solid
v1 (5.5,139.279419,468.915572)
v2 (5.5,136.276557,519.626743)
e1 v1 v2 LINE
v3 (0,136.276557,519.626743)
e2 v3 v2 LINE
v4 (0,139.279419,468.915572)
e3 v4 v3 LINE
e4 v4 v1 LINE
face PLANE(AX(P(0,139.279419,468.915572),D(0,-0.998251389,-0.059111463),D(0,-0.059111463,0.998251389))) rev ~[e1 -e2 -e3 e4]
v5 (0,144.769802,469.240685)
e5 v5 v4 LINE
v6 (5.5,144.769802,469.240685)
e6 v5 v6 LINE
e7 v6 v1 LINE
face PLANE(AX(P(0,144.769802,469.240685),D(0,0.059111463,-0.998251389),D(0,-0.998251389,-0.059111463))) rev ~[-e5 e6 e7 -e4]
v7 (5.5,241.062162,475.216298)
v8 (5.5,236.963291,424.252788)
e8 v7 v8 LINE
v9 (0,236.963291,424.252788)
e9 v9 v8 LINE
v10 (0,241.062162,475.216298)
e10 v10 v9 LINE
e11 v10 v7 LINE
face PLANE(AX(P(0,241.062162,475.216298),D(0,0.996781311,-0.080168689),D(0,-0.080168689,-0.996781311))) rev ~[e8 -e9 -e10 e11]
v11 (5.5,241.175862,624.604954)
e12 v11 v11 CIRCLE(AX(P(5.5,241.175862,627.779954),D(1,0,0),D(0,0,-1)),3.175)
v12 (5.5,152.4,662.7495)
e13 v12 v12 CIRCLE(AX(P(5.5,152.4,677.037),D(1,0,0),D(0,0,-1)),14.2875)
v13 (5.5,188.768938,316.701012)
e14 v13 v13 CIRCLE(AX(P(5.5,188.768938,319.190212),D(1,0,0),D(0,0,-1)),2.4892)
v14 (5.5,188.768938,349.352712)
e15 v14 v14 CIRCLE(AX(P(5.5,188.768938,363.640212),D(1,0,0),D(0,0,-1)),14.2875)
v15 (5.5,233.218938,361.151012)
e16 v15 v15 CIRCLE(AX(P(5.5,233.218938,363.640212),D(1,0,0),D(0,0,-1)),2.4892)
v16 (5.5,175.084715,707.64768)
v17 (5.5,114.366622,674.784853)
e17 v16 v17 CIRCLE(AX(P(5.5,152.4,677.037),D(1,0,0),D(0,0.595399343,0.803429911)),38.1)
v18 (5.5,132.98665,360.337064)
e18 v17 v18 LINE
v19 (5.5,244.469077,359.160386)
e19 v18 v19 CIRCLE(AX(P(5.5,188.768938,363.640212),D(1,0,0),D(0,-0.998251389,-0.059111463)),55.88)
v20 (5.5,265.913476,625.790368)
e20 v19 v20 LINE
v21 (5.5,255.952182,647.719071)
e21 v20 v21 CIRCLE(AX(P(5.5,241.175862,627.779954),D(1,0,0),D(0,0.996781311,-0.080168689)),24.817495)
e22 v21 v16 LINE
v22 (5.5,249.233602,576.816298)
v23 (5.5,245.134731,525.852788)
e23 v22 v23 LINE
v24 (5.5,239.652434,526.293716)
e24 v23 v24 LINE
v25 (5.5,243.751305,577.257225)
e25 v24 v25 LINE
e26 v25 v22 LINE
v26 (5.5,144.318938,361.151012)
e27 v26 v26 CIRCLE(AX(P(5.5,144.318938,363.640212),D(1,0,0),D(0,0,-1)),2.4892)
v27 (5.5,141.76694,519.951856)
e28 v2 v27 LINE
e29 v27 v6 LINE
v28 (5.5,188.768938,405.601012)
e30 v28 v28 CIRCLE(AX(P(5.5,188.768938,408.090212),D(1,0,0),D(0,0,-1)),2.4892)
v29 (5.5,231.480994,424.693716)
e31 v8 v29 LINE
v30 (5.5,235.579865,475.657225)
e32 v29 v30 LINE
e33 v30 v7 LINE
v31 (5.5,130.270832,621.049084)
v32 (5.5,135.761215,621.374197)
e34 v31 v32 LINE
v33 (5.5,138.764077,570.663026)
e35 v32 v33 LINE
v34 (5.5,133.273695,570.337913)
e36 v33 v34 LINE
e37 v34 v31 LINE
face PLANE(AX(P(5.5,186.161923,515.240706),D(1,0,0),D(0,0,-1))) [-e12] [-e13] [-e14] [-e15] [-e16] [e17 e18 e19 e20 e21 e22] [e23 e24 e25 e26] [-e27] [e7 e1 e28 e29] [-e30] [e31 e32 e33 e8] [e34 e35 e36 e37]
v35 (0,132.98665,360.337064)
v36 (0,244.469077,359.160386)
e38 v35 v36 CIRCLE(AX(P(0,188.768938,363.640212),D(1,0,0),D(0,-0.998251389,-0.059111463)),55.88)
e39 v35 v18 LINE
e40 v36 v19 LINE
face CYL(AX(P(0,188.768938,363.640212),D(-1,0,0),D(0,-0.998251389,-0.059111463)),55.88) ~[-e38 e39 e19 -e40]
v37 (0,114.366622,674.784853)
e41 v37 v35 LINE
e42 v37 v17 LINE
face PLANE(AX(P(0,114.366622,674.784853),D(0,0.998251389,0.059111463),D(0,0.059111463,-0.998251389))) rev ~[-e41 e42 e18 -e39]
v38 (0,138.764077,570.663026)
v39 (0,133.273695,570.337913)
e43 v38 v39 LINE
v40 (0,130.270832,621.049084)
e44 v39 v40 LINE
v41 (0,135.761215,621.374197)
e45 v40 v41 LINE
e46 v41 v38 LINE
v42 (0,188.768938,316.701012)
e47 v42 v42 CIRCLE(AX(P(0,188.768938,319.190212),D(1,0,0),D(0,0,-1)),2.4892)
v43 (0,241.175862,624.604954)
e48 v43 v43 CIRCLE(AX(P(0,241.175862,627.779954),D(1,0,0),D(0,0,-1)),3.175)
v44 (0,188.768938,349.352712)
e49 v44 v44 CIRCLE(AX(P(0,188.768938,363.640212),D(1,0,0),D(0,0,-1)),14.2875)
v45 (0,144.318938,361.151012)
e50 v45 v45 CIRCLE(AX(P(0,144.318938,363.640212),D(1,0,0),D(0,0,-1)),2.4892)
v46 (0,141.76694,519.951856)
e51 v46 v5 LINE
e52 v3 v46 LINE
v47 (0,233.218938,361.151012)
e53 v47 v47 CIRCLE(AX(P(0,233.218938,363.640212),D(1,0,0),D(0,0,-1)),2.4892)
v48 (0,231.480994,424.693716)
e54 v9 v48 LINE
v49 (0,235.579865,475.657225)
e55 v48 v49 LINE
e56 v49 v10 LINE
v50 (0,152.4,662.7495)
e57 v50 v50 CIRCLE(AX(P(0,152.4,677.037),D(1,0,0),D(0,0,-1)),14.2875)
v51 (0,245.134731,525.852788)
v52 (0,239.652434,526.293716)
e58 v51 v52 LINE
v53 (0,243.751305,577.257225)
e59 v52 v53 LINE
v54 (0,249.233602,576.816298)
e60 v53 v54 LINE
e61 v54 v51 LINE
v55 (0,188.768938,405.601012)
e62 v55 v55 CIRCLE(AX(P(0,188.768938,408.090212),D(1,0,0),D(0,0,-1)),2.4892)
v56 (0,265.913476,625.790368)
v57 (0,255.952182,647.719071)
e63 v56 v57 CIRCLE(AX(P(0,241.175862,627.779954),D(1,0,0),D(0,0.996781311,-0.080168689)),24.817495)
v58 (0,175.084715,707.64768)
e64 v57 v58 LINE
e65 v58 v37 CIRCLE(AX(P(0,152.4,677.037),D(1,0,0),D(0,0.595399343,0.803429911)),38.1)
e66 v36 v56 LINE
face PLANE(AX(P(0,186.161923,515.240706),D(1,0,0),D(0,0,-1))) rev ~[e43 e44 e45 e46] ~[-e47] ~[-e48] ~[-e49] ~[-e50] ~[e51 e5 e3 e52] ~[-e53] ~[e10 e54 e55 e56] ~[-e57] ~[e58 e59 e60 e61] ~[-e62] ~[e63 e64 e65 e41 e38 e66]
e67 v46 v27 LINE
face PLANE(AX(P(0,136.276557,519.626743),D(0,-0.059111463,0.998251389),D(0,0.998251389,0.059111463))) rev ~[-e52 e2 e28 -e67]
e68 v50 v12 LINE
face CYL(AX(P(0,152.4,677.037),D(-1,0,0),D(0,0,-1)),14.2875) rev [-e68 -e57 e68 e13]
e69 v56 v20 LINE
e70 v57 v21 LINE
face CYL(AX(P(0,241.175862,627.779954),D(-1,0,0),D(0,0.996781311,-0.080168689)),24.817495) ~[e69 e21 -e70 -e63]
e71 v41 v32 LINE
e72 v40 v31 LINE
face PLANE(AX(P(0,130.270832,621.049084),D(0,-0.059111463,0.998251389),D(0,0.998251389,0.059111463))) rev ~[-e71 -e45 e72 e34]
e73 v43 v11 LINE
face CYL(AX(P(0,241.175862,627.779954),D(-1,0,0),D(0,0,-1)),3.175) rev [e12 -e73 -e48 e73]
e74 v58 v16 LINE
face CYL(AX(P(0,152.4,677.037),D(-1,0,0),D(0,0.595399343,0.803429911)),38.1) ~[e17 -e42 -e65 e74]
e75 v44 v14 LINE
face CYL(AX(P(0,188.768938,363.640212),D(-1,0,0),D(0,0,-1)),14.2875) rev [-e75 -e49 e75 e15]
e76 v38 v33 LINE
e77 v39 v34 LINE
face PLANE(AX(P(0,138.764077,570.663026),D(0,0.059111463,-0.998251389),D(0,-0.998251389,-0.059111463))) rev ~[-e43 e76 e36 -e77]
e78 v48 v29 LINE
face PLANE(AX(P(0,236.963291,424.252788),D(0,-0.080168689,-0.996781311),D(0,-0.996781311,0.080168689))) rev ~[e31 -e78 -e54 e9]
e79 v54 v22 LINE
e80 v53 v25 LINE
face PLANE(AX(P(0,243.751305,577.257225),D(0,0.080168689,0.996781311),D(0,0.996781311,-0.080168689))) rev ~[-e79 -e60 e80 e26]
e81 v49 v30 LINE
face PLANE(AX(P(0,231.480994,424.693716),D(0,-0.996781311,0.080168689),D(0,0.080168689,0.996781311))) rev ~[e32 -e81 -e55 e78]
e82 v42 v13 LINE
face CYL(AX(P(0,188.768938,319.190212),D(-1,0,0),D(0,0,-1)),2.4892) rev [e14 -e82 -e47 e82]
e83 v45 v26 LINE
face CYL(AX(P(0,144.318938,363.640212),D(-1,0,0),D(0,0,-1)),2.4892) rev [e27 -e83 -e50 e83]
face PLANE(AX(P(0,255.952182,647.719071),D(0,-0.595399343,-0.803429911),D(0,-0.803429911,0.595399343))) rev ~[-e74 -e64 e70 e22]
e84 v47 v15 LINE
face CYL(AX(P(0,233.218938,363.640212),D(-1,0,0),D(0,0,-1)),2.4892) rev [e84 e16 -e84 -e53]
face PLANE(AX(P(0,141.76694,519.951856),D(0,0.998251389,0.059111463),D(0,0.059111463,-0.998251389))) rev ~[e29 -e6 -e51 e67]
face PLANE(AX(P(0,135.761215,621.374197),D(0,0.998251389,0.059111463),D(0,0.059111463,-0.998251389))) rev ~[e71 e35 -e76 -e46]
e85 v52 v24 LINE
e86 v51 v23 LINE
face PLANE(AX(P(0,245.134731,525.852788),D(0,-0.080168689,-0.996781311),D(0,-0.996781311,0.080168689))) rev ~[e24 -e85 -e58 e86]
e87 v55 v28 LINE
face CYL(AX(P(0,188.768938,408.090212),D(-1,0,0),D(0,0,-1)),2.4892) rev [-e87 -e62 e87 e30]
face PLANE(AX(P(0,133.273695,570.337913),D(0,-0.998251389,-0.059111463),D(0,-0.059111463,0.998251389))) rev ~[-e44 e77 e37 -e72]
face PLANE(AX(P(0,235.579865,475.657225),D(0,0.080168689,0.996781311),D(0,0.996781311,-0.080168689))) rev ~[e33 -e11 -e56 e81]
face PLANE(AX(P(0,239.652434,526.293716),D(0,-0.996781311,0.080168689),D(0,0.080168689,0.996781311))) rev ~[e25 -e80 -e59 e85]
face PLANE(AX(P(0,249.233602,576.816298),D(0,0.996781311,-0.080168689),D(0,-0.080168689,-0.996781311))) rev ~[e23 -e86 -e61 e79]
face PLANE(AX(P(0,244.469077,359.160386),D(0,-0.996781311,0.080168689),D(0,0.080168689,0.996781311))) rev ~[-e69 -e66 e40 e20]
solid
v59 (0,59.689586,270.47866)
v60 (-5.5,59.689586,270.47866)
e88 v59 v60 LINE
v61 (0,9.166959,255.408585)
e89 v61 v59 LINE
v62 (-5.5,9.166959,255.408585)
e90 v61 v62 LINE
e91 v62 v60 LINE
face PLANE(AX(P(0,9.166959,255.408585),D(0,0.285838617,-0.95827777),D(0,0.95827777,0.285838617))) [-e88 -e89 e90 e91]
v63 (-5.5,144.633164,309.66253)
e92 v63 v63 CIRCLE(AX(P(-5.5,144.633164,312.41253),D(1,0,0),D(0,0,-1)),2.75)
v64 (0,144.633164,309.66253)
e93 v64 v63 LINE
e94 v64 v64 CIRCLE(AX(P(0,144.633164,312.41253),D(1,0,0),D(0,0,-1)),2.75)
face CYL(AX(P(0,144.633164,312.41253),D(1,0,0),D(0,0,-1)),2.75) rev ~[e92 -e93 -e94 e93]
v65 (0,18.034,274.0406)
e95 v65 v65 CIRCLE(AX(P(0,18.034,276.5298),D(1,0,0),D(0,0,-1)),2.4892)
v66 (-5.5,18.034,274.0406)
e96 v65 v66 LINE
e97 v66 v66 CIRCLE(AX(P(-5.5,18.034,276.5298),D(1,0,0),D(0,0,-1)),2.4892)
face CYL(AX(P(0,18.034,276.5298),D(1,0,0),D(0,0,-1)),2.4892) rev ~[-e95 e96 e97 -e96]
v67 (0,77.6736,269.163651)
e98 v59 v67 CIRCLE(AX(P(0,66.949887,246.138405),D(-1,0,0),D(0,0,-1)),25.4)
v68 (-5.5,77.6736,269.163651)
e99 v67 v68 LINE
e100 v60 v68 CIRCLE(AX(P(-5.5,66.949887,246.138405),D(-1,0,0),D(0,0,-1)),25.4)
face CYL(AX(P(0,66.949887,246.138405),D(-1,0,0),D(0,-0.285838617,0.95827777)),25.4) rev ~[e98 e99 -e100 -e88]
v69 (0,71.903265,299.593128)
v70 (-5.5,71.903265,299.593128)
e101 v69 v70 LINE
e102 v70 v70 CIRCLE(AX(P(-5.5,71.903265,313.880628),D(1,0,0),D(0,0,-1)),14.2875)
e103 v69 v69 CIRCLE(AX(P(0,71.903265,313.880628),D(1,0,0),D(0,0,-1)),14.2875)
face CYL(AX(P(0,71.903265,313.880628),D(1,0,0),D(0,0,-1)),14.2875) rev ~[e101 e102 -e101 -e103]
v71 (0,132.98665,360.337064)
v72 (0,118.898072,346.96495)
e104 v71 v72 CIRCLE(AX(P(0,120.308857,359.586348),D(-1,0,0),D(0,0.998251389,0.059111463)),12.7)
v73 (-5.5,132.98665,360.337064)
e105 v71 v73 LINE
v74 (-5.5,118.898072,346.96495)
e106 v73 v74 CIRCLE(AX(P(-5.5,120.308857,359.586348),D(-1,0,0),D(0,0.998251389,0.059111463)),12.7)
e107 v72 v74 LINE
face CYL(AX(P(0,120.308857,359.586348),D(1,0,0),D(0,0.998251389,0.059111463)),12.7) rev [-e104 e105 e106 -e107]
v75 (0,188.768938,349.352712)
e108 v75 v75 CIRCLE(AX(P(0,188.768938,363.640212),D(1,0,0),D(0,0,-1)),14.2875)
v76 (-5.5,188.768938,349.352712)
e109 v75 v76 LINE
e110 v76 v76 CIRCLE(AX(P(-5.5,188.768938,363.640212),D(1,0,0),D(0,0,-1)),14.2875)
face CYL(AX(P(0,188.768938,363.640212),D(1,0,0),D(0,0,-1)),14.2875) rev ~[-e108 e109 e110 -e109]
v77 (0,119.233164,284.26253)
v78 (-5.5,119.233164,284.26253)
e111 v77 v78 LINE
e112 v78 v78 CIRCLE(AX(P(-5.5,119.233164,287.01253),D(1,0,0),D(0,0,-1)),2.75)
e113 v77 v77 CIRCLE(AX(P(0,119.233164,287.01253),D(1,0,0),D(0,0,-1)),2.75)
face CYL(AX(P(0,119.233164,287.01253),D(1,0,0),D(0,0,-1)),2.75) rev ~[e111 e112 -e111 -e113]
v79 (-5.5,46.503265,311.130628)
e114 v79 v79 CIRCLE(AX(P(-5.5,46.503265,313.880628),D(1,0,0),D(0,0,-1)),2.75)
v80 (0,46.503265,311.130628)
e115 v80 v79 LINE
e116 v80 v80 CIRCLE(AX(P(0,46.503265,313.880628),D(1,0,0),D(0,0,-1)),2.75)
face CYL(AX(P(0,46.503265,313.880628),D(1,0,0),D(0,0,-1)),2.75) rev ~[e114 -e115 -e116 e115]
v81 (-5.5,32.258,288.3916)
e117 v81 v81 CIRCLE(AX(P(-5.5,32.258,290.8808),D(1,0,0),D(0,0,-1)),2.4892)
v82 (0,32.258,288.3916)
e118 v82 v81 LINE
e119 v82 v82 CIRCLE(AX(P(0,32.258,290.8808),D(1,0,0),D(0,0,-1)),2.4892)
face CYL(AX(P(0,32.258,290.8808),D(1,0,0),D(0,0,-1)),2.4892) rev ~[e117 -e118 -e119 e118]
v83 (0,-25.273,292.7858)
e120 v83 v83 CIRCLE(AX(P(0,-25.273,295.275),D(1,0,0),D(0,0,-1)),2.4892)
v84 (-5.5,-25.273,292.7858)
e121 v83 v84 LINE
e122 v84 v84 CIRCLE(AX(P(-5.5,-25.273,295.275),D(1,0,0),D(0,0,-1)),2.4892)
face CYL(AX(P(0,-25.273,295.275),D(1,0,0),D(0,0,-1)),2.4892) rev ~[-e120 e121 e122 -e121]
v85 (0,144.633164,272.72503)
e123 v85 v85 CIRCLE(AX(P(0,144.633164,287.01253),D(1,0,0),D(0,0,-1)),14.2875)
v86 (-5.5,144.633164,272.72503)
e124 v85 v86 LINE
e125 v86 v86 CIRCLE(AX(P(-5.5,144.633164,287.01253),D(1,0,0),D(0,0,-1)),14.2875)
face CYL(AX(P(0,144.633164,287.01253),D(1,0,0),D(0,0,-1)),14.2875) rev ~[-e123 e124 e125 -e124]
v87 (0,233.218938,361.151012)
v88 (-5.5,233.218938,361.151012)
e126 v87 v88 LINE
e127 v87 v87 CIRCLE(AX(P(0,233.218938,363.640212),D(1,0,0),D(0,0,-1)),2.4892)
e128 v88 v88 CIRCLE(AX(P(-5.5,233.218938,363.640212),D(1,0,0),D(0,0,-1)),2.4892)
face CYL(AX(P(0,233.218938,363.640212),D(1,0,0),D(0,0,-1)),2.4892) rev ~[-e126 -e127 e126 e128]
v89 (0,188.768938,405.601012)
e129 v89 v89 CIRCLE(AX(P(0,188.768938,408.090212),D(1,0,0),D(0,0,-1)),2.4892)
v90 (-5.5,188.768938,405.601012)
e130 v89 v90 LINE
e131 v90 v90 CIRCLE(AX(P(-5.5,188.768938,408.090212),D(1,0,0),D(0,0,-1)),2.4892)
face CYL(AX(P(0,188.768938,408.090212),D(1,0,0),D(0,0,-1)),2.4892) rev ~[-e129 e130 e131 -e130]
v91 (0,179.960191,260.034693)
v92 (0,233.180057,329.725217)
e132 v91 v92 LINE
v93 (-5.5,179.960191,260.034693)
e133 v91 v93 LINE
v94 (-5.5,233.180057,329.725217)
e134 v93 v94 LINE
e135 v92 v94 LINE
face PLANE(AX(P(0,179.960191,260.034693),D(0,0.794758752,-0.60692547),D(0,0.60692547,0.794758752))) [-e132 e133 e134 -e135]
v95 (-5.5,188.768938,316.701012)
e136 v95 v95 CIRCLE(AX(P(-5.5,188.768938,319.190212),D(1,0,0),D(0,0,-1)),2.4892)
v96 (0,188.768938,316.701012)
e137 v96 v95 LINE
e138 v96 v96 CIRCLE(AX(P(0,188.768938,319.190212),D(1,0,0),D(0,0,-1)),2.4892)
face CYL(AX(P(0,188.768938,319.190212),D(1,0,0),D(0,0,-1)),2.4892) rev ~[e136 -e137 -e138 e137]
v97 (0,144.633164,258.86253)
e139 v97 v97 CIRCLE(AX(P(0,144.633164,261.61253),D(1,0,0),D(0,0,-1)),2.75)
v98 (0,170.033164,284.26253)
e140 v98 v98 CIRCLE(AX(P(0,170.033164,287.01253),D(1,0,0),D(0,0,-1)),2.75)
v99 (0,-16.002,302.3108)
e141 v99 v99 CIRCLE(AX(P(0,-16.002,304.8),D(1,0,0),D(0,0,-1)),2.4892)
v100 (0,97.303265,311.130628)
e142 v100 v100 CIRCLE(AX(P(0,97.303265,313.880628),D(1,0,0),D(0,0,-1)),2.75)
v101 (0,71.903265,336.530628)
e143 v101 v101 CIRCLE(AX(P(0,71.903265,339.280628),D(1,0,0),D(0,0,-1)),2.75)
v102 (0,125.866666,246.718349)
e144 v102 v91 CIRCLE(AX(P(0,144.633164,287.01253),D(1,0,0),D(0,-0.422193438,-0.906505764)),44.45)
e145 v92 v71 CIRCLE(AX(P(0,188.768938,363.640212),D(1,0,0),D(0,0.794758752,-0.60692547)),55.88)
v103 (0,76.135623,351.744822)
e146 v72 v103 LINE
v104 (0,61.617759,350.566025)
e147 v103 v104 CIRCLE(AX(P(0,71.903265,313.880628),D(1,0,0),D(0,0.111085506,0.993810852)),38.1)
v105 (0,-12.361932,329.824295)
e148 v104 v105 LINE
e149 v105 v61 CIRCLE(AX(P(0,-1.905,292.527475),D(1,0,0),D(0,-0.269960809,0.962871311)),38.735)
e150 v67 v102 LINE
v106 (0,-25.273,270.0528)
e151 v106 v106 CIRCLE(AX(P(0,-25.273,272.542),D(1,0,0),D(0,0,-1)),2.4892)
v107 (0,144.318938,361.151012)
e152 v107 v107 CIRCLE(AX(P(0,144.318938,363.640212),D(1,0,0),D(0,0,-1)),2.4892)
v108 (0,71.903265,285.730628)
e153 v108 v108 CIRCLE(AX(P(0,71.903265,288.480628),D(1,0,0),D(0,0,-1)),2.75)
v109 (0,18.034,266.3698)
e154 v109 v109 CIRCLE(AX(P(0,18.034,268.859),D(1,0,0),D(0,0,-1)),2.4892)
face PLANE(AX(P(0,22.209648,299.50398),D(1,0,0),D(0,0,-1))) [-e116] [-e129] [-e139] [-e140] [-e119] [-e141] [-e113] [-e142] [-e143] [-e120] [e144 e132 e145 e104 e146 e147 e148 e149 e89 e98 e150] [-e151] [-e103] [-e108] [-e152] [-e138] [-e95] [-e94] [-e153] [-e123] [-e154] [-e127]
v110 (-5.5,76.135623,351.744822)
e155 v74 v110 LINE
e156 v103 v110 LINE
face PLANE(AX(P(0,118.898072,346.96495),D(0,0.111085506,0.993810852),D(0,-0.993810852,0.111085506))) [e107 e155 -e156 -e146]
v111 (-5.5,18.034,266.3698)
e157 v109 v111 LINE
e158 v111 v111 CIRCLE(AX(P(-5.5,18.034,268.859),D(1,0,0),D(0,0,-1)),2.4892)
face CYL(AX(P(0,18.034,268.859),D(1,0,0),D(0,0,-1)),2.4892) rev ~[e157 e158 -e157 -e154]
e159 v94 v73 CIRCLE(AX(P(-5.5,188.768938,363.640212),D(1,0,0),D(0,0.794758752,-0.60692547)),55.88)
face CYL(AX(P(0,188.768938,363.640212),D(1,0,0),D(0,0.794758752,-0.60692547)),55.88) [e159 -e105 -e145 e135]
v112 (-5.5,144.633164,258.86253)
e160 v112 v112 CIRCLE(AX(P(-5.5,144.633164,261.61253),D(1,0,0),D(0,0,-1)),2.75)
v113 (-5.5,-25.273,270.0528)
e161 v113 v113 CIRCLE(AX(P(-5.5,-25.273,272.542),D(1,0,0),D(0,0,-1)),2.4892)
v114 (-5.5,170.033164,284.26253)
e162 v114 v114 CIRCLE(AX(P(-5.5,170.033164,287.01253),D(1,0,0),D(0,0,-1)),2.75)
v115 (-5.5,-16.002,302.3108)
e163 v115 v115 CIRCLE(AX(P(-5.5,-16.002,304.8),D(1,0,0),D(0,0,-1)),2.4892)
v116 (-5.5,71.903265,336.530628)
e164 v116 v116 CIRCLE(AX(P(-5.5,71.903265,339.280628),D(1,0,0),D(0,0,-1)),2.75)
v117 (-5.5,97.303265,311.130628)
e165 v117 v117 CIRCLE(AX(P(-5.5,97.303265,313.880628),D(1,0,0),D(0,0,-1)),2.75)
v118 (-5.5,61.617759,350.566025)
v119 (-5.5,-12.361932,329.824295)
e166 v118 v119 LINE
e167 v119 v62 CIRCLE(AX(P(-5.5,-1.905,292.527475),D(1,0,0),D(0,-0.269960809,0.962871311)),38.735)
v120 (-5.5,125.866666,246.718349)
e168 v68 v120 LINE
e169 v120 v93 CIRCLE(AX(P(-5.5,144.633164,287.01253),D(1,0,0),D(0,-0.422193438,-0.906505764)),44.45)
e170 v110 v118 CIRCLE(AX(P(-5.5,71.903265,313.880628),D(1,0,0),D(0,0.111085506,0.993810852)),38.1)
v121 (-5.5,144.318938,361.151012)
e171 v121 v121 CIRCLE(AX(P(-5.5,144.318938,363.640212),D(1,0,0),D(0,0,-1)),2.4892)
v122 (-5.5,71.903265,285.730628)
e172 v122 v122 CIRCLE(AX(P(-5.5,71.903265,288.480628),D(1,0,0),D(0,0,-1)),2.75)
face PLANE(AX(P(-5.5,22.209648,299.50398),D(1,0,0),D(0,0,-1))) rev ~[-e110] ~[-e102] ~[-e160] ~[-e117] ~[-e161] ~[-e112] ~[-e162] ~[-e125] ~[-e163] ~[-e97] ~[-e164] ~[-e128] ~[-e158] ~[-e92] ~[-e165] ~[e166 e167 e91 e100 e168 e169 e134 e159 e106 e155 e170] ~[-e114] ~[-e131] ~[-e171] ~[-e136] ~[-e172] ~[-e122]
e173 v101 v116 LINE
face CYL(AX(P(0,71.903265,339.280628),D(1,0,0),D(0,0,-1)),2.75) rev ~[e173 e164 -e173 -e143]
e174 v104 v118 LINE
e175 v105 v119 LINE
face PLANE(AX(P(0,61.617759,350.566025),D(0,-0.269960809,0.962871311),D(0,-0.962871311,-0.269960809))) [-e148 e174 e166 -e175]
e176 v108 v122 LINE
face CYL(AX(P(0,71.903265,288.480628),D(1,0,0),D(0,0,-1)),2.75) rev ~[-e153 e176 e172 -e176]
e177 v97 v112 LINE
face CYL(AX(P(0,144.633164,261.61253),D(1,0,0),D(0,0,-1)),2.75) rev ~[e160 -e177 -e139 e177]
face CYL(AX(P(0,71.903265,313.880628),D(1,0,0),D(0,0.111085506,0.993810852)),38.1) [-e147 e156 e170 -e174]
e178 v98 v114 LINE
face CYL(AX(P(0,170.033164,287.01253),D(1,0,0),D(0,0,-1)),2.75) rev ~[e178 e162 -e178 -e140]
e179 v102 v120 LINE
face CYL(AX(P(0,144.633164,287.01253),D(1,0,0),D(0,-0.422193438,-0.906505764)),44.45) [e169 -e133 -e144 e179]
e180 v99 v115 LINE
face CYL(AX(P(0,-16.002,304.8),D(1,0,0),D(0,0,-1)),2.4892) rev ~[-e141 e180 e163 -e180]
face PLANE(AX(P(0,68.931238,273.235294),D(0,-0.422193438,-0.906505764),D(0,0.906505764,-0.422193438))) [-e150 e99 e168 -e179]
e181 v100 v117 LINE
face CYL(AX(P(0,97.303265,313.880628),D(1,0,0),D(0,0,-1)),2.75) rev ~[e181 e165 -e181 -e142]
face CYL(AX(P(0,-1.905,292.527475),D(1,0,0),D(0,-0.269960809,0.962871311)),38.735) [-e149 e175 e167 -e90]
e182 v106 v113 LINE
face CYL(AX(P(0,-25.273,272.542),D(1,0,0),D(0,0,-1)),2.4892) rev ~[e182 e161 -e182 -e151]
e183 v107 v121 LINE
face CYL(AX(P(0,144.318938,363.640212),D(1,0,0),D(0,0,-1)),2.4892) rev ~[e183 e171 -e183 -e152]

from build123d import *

# Parameters (mm, degrees)
PLACA_R                 = 3.175
PLACA_R_2               = 14.2875
PLACA_R_3               = 2.4892
EXTRUCI_N_INTAKE_DEPTH  = 5.5
PLACA_6_R               = 2.4892
PLACA_6_R_2             = 14.2875
PLACA_6_R_3             = 2.75
EXTRUCI_N_PIBOTE_DEPTH  = 5.5
PLACA_8_R               = 2.75
PLACA_8_R_2             = 14.2875
PLACA_8_R_3             = 2.4892
SALIENTE_EXTRUIR4_DEPTH = 5.5
REDONDEO1_R             = 25.4


with BuildPart() as part:
    # Placa → Extrución Intake (new body)
    with BuildSketch(Plane(origin=(0, 0, 0), x_dir=(0, 0, -1), z_dir=(1, 0, 0))):
        with BuildLine():
            Line((-647.719071273, 255.952181515), (-707.647679612, 175.084714979))
            ThreePointArc((-707.647679612, 175.084714979), (-710.544063401, 134.264766276), (-674.78485327, 114.366622092))
            Line((-674.78485327, 114.366622092), (-360.337063596, 132.98665008))
            ThreePointArc((-360.337063596, 132.98665008), (-307.763324511, 188.179166762), (-359.160385792, 244.46907732))
            Line((-359.160385792, 244.46907732), (-625.790367871, 265.913476285))
            ThreePointArc((-625.790367871, 265.913476285), (-638.044127864, 263.771320547), (-647.719071273, 255.952181515))
        make_face()
        Polygon((-570.663026169, 138.764077259), (-570.337913124, 133.273694622), (-621.049083669, 130.270832316), (-621.374196714, 135.761214953), align=None, mode=Mode.SUBTRACT)
        Polygon((-519.62674258, 136.276556928), (-519.951855625, 141.766939566), (-469.240685081, 144.769801872), (-468.915572036, 139.279419234), align=None, mode=Mode.SUBTRACT)
        Polygon((-576.816297666, 249.233601949), (-525.852788248, 245.134731221), (-526.293716038, 239.652434013), (-577.257225455, 243.75130474), align=None, mode=Mode.SUBTRACT)
        with Locations((-627.779953869, 241.175861584)):
            Circle(PLACA_R, mode=Mode.SUBTRACT)
        Polygon((-424.693716038, 231.480993885), (-475.657225455, 235.579864612), (-475.216297666, 241.062161821), (-424.252788248, 236.963291093), align=None, mode=Mode.SUBTRACT)
        with Locations((-677.037, 152.4)):
            Circle(PLACA_R_2, mode=Mode.SUBTRACT)
        with Locations((-363.640212133, 233.218937679)):
            Circle(PLACA_R_3, mode=Mode.SUBTRACT)
        with Locations((-363.640212133, 144.318937679)):
            Circle(PLACA_R_3, mode=Mode.SUBTRACT)
        with Locations((-408.090212133, 188.768937679)):
            Circle(PLACA_R_3, mode=Mode.SUBTRACT)
        with Locations((-363.640212133, 188.768937679)):
            Circle(PLACA_R_2, mode=Mode.SUBTRACT)
        with Locations((-319.190212133, 188.768937679)):
            Circle(PLACA_R_3, mode=Mode.SUBTRACT)
    extrude(amount=EXTRUCI_N_INTAKE_DEPTH)


with BuildPart() as body_2:
    # Placa<6> → Extrución Pibote (new body)
    with BuildSketch(Plane(origin=(0, 0, 0), x_dir=(0, 0, -1), z_dir=(1, 0, 0))):
        with BuildLine():
            ThreePointArc((-360.337063596, 132.98665008), (-350.374926539, 129.051838303), (-346.964950193, 118.898071525))
            Line((-346.964950193, 118.898071525), (-351.744821708, 76.135623236))
            ThreePointArc((-351.744821708, 76.135623236), (-310.483459841, 33.955021156), (-277.370245178, 82.793716773))
            Line((-277.370245178, 82.793716773), (-273.235294143, 68.931238343))
            Line((-273.235294143, 68.931238343), (-246.71834862, 125.866666066))
            ThreePointArc((-246.71834862, 125.866666066), (-243.85110643, 155.258324547), (-260.0346927, 179.960190903))
            Line((-260.0346927, 179.960190903), (-329.72521686, 233.180056734))
            ThreePointArc((-329.72521686, 233.180056734), (-417.081556066, 205.09674092), (-360.337063596, 132.98665008))
        make_face()
        with Locations((-363.640212133, 144.318937679)):
            Circle(PLACA_6_R, mode=Mode.SUBTRACT)
        with Locations((-408.090212133, 188.768937679)):
            Circle(PLACA_6_R, mode=Mode.SUBTRACT)
        with Locations((-363.640212133, 188.768937679)):
            Circle(PLACA_6_R_2, mode=Mode.SUBTRACT)
        with Locations((-319.190212133, 188.768937679)):
            Circle(PLACA_6_R, mode=Mode.SUBTRACT)
        with Locations((-363.640212133, 233.218937679)):
            Circle(PLACA_6_R, mode=Mode.SUBTRACT)
        with Locations((-261.612529849, 144.633164383)):
            Circle(PLACA_6_R_3, mode=Mode.SUBTRACT)
        with Locations((-287.012529849, 170.033164383)):
            Circle(PLACA_6_R_3, mode=Mode.SUBTRACT)
        with Locations((-287.012529849, 144.633164383)):
            Circle(PLACA_6_R_2, mode=Mode.SUBTRACT)
        with Locations((-312.412529849, 144.633164383)):
            Circle(PLACA_6_R_3, mode=Mode.SUBTRACT)
        with Locations((-287.012529849, 119.233164383)):
            Circle(PLACA_6_R_3, mode=Mode.SUBTRACT)
        with Locations((-313.880628229, 97.303265476)):
            Circle(PLACA_6_R_3, mode=Mode.SUBTRACT)
        with Locations((-313.880628229, 46.503265476)):
            Circle(PLACA_6_R_3, mode=Mode.SUBTRACT)
        with Locations((-339.280628229, 71.903265476)):
            Circle(PLACA_6_R_3, mode=Mode.SUBTRACT)
        with Locations((-313.880628229, 71.903265476)):
            Circle(PLACA_6_R_2, mode=Mode.SUBTRACT)
        with Locations((-288.480628229, 71.903265476)):
            Circle(PLACA_6_R_3, mode=Mode.SUBTRACT)
    extrude(amount=-EXTRUCI_N_PIBOTE_DEPTH)

    # Placa<8> → Saliente-Extruir4 (add)
    with BuildSketch(Plane(origin=(0, 0, 0), x_dir=(0, 0, -1), z_dir=(1, 0, 0))):
        with BuildLine():
            ThreePointArc((-277.370245178, 82.793716773), (-324.468968901, 108.502405381), (-350.566025176, 61.61775864))
            Line((-350.566025176, 61.61775864), (-329.82429477, -12.36193195))
            ThreePointArc((-329.82429477, -12.36193195), (-281.762661525, -39.114125571), (-255.408585106, 9.166958819))
            Line((-255.408585106, 9.166958819), (-277.370245178, 82.793716773))
        make_face()
        with Locations((-313.880628229, 46.503265476)):
            Circle(PLACA_8_R, mode=Mode.SUBTRACT)
        with Locations((-339.280628229, 71.903265476)):
            Circle(PLACA_8_R, mode=Mode.SUBTRACT)
        with Locations((-313.880628229, 71.903265476)):
            Circle(PLACA_8_R_2, mode=Mode.SUBTRACT)
        with Locations((-288.480628229, 71.903265476)):
            Circle(PLACA_8_R, mode=Mode.SUBTRACT)
        with Locations((-313.880628229, 97.303265476)):
            Circle(PLACA_8_R, mode=Mode.SUBTRACT)
        with Locations((-290.8808, 32.258)):
            Circle(PLACA_8_R_3, mode=Mode.SUBTRACT)
        with Locations((-268.859, 18.034)):
            Circle(PLACA_8_R_3, mode=Mode.SUBTRACT)
        with Locations((-304.8, -16.002)):
            Circle(PLACA_8_R_3, mode=Mode.SUBTRACT)
        with Locations((-295.275, -25.273)):
            Circle(PLACA_8_R_3, mode=Mode.SUBTRACT)
        with Locations((-272.542, -25.273)):
            Circle(PLACA_8_R_3, mode=Mode.SUBTRACT)
        with Locations((-276.5298, 18.034)):
            Circle(PLACA_8_R_3, mode=Mode.SUBTRACT)
    extrude(amount=-SALIENTE_EXTRUIR4_DEPTH)

    # Redondeo1
    redondeo1_edges = [body_2.edges().sort_by_distance(p)[0] for p in [
        (-2.75, 68.931238343, 273.235294143),
    ]]
    fillet(redondeo1_edges, radius=REDONDEO1_R)


solid = Compound([part.part, body_2.part])
